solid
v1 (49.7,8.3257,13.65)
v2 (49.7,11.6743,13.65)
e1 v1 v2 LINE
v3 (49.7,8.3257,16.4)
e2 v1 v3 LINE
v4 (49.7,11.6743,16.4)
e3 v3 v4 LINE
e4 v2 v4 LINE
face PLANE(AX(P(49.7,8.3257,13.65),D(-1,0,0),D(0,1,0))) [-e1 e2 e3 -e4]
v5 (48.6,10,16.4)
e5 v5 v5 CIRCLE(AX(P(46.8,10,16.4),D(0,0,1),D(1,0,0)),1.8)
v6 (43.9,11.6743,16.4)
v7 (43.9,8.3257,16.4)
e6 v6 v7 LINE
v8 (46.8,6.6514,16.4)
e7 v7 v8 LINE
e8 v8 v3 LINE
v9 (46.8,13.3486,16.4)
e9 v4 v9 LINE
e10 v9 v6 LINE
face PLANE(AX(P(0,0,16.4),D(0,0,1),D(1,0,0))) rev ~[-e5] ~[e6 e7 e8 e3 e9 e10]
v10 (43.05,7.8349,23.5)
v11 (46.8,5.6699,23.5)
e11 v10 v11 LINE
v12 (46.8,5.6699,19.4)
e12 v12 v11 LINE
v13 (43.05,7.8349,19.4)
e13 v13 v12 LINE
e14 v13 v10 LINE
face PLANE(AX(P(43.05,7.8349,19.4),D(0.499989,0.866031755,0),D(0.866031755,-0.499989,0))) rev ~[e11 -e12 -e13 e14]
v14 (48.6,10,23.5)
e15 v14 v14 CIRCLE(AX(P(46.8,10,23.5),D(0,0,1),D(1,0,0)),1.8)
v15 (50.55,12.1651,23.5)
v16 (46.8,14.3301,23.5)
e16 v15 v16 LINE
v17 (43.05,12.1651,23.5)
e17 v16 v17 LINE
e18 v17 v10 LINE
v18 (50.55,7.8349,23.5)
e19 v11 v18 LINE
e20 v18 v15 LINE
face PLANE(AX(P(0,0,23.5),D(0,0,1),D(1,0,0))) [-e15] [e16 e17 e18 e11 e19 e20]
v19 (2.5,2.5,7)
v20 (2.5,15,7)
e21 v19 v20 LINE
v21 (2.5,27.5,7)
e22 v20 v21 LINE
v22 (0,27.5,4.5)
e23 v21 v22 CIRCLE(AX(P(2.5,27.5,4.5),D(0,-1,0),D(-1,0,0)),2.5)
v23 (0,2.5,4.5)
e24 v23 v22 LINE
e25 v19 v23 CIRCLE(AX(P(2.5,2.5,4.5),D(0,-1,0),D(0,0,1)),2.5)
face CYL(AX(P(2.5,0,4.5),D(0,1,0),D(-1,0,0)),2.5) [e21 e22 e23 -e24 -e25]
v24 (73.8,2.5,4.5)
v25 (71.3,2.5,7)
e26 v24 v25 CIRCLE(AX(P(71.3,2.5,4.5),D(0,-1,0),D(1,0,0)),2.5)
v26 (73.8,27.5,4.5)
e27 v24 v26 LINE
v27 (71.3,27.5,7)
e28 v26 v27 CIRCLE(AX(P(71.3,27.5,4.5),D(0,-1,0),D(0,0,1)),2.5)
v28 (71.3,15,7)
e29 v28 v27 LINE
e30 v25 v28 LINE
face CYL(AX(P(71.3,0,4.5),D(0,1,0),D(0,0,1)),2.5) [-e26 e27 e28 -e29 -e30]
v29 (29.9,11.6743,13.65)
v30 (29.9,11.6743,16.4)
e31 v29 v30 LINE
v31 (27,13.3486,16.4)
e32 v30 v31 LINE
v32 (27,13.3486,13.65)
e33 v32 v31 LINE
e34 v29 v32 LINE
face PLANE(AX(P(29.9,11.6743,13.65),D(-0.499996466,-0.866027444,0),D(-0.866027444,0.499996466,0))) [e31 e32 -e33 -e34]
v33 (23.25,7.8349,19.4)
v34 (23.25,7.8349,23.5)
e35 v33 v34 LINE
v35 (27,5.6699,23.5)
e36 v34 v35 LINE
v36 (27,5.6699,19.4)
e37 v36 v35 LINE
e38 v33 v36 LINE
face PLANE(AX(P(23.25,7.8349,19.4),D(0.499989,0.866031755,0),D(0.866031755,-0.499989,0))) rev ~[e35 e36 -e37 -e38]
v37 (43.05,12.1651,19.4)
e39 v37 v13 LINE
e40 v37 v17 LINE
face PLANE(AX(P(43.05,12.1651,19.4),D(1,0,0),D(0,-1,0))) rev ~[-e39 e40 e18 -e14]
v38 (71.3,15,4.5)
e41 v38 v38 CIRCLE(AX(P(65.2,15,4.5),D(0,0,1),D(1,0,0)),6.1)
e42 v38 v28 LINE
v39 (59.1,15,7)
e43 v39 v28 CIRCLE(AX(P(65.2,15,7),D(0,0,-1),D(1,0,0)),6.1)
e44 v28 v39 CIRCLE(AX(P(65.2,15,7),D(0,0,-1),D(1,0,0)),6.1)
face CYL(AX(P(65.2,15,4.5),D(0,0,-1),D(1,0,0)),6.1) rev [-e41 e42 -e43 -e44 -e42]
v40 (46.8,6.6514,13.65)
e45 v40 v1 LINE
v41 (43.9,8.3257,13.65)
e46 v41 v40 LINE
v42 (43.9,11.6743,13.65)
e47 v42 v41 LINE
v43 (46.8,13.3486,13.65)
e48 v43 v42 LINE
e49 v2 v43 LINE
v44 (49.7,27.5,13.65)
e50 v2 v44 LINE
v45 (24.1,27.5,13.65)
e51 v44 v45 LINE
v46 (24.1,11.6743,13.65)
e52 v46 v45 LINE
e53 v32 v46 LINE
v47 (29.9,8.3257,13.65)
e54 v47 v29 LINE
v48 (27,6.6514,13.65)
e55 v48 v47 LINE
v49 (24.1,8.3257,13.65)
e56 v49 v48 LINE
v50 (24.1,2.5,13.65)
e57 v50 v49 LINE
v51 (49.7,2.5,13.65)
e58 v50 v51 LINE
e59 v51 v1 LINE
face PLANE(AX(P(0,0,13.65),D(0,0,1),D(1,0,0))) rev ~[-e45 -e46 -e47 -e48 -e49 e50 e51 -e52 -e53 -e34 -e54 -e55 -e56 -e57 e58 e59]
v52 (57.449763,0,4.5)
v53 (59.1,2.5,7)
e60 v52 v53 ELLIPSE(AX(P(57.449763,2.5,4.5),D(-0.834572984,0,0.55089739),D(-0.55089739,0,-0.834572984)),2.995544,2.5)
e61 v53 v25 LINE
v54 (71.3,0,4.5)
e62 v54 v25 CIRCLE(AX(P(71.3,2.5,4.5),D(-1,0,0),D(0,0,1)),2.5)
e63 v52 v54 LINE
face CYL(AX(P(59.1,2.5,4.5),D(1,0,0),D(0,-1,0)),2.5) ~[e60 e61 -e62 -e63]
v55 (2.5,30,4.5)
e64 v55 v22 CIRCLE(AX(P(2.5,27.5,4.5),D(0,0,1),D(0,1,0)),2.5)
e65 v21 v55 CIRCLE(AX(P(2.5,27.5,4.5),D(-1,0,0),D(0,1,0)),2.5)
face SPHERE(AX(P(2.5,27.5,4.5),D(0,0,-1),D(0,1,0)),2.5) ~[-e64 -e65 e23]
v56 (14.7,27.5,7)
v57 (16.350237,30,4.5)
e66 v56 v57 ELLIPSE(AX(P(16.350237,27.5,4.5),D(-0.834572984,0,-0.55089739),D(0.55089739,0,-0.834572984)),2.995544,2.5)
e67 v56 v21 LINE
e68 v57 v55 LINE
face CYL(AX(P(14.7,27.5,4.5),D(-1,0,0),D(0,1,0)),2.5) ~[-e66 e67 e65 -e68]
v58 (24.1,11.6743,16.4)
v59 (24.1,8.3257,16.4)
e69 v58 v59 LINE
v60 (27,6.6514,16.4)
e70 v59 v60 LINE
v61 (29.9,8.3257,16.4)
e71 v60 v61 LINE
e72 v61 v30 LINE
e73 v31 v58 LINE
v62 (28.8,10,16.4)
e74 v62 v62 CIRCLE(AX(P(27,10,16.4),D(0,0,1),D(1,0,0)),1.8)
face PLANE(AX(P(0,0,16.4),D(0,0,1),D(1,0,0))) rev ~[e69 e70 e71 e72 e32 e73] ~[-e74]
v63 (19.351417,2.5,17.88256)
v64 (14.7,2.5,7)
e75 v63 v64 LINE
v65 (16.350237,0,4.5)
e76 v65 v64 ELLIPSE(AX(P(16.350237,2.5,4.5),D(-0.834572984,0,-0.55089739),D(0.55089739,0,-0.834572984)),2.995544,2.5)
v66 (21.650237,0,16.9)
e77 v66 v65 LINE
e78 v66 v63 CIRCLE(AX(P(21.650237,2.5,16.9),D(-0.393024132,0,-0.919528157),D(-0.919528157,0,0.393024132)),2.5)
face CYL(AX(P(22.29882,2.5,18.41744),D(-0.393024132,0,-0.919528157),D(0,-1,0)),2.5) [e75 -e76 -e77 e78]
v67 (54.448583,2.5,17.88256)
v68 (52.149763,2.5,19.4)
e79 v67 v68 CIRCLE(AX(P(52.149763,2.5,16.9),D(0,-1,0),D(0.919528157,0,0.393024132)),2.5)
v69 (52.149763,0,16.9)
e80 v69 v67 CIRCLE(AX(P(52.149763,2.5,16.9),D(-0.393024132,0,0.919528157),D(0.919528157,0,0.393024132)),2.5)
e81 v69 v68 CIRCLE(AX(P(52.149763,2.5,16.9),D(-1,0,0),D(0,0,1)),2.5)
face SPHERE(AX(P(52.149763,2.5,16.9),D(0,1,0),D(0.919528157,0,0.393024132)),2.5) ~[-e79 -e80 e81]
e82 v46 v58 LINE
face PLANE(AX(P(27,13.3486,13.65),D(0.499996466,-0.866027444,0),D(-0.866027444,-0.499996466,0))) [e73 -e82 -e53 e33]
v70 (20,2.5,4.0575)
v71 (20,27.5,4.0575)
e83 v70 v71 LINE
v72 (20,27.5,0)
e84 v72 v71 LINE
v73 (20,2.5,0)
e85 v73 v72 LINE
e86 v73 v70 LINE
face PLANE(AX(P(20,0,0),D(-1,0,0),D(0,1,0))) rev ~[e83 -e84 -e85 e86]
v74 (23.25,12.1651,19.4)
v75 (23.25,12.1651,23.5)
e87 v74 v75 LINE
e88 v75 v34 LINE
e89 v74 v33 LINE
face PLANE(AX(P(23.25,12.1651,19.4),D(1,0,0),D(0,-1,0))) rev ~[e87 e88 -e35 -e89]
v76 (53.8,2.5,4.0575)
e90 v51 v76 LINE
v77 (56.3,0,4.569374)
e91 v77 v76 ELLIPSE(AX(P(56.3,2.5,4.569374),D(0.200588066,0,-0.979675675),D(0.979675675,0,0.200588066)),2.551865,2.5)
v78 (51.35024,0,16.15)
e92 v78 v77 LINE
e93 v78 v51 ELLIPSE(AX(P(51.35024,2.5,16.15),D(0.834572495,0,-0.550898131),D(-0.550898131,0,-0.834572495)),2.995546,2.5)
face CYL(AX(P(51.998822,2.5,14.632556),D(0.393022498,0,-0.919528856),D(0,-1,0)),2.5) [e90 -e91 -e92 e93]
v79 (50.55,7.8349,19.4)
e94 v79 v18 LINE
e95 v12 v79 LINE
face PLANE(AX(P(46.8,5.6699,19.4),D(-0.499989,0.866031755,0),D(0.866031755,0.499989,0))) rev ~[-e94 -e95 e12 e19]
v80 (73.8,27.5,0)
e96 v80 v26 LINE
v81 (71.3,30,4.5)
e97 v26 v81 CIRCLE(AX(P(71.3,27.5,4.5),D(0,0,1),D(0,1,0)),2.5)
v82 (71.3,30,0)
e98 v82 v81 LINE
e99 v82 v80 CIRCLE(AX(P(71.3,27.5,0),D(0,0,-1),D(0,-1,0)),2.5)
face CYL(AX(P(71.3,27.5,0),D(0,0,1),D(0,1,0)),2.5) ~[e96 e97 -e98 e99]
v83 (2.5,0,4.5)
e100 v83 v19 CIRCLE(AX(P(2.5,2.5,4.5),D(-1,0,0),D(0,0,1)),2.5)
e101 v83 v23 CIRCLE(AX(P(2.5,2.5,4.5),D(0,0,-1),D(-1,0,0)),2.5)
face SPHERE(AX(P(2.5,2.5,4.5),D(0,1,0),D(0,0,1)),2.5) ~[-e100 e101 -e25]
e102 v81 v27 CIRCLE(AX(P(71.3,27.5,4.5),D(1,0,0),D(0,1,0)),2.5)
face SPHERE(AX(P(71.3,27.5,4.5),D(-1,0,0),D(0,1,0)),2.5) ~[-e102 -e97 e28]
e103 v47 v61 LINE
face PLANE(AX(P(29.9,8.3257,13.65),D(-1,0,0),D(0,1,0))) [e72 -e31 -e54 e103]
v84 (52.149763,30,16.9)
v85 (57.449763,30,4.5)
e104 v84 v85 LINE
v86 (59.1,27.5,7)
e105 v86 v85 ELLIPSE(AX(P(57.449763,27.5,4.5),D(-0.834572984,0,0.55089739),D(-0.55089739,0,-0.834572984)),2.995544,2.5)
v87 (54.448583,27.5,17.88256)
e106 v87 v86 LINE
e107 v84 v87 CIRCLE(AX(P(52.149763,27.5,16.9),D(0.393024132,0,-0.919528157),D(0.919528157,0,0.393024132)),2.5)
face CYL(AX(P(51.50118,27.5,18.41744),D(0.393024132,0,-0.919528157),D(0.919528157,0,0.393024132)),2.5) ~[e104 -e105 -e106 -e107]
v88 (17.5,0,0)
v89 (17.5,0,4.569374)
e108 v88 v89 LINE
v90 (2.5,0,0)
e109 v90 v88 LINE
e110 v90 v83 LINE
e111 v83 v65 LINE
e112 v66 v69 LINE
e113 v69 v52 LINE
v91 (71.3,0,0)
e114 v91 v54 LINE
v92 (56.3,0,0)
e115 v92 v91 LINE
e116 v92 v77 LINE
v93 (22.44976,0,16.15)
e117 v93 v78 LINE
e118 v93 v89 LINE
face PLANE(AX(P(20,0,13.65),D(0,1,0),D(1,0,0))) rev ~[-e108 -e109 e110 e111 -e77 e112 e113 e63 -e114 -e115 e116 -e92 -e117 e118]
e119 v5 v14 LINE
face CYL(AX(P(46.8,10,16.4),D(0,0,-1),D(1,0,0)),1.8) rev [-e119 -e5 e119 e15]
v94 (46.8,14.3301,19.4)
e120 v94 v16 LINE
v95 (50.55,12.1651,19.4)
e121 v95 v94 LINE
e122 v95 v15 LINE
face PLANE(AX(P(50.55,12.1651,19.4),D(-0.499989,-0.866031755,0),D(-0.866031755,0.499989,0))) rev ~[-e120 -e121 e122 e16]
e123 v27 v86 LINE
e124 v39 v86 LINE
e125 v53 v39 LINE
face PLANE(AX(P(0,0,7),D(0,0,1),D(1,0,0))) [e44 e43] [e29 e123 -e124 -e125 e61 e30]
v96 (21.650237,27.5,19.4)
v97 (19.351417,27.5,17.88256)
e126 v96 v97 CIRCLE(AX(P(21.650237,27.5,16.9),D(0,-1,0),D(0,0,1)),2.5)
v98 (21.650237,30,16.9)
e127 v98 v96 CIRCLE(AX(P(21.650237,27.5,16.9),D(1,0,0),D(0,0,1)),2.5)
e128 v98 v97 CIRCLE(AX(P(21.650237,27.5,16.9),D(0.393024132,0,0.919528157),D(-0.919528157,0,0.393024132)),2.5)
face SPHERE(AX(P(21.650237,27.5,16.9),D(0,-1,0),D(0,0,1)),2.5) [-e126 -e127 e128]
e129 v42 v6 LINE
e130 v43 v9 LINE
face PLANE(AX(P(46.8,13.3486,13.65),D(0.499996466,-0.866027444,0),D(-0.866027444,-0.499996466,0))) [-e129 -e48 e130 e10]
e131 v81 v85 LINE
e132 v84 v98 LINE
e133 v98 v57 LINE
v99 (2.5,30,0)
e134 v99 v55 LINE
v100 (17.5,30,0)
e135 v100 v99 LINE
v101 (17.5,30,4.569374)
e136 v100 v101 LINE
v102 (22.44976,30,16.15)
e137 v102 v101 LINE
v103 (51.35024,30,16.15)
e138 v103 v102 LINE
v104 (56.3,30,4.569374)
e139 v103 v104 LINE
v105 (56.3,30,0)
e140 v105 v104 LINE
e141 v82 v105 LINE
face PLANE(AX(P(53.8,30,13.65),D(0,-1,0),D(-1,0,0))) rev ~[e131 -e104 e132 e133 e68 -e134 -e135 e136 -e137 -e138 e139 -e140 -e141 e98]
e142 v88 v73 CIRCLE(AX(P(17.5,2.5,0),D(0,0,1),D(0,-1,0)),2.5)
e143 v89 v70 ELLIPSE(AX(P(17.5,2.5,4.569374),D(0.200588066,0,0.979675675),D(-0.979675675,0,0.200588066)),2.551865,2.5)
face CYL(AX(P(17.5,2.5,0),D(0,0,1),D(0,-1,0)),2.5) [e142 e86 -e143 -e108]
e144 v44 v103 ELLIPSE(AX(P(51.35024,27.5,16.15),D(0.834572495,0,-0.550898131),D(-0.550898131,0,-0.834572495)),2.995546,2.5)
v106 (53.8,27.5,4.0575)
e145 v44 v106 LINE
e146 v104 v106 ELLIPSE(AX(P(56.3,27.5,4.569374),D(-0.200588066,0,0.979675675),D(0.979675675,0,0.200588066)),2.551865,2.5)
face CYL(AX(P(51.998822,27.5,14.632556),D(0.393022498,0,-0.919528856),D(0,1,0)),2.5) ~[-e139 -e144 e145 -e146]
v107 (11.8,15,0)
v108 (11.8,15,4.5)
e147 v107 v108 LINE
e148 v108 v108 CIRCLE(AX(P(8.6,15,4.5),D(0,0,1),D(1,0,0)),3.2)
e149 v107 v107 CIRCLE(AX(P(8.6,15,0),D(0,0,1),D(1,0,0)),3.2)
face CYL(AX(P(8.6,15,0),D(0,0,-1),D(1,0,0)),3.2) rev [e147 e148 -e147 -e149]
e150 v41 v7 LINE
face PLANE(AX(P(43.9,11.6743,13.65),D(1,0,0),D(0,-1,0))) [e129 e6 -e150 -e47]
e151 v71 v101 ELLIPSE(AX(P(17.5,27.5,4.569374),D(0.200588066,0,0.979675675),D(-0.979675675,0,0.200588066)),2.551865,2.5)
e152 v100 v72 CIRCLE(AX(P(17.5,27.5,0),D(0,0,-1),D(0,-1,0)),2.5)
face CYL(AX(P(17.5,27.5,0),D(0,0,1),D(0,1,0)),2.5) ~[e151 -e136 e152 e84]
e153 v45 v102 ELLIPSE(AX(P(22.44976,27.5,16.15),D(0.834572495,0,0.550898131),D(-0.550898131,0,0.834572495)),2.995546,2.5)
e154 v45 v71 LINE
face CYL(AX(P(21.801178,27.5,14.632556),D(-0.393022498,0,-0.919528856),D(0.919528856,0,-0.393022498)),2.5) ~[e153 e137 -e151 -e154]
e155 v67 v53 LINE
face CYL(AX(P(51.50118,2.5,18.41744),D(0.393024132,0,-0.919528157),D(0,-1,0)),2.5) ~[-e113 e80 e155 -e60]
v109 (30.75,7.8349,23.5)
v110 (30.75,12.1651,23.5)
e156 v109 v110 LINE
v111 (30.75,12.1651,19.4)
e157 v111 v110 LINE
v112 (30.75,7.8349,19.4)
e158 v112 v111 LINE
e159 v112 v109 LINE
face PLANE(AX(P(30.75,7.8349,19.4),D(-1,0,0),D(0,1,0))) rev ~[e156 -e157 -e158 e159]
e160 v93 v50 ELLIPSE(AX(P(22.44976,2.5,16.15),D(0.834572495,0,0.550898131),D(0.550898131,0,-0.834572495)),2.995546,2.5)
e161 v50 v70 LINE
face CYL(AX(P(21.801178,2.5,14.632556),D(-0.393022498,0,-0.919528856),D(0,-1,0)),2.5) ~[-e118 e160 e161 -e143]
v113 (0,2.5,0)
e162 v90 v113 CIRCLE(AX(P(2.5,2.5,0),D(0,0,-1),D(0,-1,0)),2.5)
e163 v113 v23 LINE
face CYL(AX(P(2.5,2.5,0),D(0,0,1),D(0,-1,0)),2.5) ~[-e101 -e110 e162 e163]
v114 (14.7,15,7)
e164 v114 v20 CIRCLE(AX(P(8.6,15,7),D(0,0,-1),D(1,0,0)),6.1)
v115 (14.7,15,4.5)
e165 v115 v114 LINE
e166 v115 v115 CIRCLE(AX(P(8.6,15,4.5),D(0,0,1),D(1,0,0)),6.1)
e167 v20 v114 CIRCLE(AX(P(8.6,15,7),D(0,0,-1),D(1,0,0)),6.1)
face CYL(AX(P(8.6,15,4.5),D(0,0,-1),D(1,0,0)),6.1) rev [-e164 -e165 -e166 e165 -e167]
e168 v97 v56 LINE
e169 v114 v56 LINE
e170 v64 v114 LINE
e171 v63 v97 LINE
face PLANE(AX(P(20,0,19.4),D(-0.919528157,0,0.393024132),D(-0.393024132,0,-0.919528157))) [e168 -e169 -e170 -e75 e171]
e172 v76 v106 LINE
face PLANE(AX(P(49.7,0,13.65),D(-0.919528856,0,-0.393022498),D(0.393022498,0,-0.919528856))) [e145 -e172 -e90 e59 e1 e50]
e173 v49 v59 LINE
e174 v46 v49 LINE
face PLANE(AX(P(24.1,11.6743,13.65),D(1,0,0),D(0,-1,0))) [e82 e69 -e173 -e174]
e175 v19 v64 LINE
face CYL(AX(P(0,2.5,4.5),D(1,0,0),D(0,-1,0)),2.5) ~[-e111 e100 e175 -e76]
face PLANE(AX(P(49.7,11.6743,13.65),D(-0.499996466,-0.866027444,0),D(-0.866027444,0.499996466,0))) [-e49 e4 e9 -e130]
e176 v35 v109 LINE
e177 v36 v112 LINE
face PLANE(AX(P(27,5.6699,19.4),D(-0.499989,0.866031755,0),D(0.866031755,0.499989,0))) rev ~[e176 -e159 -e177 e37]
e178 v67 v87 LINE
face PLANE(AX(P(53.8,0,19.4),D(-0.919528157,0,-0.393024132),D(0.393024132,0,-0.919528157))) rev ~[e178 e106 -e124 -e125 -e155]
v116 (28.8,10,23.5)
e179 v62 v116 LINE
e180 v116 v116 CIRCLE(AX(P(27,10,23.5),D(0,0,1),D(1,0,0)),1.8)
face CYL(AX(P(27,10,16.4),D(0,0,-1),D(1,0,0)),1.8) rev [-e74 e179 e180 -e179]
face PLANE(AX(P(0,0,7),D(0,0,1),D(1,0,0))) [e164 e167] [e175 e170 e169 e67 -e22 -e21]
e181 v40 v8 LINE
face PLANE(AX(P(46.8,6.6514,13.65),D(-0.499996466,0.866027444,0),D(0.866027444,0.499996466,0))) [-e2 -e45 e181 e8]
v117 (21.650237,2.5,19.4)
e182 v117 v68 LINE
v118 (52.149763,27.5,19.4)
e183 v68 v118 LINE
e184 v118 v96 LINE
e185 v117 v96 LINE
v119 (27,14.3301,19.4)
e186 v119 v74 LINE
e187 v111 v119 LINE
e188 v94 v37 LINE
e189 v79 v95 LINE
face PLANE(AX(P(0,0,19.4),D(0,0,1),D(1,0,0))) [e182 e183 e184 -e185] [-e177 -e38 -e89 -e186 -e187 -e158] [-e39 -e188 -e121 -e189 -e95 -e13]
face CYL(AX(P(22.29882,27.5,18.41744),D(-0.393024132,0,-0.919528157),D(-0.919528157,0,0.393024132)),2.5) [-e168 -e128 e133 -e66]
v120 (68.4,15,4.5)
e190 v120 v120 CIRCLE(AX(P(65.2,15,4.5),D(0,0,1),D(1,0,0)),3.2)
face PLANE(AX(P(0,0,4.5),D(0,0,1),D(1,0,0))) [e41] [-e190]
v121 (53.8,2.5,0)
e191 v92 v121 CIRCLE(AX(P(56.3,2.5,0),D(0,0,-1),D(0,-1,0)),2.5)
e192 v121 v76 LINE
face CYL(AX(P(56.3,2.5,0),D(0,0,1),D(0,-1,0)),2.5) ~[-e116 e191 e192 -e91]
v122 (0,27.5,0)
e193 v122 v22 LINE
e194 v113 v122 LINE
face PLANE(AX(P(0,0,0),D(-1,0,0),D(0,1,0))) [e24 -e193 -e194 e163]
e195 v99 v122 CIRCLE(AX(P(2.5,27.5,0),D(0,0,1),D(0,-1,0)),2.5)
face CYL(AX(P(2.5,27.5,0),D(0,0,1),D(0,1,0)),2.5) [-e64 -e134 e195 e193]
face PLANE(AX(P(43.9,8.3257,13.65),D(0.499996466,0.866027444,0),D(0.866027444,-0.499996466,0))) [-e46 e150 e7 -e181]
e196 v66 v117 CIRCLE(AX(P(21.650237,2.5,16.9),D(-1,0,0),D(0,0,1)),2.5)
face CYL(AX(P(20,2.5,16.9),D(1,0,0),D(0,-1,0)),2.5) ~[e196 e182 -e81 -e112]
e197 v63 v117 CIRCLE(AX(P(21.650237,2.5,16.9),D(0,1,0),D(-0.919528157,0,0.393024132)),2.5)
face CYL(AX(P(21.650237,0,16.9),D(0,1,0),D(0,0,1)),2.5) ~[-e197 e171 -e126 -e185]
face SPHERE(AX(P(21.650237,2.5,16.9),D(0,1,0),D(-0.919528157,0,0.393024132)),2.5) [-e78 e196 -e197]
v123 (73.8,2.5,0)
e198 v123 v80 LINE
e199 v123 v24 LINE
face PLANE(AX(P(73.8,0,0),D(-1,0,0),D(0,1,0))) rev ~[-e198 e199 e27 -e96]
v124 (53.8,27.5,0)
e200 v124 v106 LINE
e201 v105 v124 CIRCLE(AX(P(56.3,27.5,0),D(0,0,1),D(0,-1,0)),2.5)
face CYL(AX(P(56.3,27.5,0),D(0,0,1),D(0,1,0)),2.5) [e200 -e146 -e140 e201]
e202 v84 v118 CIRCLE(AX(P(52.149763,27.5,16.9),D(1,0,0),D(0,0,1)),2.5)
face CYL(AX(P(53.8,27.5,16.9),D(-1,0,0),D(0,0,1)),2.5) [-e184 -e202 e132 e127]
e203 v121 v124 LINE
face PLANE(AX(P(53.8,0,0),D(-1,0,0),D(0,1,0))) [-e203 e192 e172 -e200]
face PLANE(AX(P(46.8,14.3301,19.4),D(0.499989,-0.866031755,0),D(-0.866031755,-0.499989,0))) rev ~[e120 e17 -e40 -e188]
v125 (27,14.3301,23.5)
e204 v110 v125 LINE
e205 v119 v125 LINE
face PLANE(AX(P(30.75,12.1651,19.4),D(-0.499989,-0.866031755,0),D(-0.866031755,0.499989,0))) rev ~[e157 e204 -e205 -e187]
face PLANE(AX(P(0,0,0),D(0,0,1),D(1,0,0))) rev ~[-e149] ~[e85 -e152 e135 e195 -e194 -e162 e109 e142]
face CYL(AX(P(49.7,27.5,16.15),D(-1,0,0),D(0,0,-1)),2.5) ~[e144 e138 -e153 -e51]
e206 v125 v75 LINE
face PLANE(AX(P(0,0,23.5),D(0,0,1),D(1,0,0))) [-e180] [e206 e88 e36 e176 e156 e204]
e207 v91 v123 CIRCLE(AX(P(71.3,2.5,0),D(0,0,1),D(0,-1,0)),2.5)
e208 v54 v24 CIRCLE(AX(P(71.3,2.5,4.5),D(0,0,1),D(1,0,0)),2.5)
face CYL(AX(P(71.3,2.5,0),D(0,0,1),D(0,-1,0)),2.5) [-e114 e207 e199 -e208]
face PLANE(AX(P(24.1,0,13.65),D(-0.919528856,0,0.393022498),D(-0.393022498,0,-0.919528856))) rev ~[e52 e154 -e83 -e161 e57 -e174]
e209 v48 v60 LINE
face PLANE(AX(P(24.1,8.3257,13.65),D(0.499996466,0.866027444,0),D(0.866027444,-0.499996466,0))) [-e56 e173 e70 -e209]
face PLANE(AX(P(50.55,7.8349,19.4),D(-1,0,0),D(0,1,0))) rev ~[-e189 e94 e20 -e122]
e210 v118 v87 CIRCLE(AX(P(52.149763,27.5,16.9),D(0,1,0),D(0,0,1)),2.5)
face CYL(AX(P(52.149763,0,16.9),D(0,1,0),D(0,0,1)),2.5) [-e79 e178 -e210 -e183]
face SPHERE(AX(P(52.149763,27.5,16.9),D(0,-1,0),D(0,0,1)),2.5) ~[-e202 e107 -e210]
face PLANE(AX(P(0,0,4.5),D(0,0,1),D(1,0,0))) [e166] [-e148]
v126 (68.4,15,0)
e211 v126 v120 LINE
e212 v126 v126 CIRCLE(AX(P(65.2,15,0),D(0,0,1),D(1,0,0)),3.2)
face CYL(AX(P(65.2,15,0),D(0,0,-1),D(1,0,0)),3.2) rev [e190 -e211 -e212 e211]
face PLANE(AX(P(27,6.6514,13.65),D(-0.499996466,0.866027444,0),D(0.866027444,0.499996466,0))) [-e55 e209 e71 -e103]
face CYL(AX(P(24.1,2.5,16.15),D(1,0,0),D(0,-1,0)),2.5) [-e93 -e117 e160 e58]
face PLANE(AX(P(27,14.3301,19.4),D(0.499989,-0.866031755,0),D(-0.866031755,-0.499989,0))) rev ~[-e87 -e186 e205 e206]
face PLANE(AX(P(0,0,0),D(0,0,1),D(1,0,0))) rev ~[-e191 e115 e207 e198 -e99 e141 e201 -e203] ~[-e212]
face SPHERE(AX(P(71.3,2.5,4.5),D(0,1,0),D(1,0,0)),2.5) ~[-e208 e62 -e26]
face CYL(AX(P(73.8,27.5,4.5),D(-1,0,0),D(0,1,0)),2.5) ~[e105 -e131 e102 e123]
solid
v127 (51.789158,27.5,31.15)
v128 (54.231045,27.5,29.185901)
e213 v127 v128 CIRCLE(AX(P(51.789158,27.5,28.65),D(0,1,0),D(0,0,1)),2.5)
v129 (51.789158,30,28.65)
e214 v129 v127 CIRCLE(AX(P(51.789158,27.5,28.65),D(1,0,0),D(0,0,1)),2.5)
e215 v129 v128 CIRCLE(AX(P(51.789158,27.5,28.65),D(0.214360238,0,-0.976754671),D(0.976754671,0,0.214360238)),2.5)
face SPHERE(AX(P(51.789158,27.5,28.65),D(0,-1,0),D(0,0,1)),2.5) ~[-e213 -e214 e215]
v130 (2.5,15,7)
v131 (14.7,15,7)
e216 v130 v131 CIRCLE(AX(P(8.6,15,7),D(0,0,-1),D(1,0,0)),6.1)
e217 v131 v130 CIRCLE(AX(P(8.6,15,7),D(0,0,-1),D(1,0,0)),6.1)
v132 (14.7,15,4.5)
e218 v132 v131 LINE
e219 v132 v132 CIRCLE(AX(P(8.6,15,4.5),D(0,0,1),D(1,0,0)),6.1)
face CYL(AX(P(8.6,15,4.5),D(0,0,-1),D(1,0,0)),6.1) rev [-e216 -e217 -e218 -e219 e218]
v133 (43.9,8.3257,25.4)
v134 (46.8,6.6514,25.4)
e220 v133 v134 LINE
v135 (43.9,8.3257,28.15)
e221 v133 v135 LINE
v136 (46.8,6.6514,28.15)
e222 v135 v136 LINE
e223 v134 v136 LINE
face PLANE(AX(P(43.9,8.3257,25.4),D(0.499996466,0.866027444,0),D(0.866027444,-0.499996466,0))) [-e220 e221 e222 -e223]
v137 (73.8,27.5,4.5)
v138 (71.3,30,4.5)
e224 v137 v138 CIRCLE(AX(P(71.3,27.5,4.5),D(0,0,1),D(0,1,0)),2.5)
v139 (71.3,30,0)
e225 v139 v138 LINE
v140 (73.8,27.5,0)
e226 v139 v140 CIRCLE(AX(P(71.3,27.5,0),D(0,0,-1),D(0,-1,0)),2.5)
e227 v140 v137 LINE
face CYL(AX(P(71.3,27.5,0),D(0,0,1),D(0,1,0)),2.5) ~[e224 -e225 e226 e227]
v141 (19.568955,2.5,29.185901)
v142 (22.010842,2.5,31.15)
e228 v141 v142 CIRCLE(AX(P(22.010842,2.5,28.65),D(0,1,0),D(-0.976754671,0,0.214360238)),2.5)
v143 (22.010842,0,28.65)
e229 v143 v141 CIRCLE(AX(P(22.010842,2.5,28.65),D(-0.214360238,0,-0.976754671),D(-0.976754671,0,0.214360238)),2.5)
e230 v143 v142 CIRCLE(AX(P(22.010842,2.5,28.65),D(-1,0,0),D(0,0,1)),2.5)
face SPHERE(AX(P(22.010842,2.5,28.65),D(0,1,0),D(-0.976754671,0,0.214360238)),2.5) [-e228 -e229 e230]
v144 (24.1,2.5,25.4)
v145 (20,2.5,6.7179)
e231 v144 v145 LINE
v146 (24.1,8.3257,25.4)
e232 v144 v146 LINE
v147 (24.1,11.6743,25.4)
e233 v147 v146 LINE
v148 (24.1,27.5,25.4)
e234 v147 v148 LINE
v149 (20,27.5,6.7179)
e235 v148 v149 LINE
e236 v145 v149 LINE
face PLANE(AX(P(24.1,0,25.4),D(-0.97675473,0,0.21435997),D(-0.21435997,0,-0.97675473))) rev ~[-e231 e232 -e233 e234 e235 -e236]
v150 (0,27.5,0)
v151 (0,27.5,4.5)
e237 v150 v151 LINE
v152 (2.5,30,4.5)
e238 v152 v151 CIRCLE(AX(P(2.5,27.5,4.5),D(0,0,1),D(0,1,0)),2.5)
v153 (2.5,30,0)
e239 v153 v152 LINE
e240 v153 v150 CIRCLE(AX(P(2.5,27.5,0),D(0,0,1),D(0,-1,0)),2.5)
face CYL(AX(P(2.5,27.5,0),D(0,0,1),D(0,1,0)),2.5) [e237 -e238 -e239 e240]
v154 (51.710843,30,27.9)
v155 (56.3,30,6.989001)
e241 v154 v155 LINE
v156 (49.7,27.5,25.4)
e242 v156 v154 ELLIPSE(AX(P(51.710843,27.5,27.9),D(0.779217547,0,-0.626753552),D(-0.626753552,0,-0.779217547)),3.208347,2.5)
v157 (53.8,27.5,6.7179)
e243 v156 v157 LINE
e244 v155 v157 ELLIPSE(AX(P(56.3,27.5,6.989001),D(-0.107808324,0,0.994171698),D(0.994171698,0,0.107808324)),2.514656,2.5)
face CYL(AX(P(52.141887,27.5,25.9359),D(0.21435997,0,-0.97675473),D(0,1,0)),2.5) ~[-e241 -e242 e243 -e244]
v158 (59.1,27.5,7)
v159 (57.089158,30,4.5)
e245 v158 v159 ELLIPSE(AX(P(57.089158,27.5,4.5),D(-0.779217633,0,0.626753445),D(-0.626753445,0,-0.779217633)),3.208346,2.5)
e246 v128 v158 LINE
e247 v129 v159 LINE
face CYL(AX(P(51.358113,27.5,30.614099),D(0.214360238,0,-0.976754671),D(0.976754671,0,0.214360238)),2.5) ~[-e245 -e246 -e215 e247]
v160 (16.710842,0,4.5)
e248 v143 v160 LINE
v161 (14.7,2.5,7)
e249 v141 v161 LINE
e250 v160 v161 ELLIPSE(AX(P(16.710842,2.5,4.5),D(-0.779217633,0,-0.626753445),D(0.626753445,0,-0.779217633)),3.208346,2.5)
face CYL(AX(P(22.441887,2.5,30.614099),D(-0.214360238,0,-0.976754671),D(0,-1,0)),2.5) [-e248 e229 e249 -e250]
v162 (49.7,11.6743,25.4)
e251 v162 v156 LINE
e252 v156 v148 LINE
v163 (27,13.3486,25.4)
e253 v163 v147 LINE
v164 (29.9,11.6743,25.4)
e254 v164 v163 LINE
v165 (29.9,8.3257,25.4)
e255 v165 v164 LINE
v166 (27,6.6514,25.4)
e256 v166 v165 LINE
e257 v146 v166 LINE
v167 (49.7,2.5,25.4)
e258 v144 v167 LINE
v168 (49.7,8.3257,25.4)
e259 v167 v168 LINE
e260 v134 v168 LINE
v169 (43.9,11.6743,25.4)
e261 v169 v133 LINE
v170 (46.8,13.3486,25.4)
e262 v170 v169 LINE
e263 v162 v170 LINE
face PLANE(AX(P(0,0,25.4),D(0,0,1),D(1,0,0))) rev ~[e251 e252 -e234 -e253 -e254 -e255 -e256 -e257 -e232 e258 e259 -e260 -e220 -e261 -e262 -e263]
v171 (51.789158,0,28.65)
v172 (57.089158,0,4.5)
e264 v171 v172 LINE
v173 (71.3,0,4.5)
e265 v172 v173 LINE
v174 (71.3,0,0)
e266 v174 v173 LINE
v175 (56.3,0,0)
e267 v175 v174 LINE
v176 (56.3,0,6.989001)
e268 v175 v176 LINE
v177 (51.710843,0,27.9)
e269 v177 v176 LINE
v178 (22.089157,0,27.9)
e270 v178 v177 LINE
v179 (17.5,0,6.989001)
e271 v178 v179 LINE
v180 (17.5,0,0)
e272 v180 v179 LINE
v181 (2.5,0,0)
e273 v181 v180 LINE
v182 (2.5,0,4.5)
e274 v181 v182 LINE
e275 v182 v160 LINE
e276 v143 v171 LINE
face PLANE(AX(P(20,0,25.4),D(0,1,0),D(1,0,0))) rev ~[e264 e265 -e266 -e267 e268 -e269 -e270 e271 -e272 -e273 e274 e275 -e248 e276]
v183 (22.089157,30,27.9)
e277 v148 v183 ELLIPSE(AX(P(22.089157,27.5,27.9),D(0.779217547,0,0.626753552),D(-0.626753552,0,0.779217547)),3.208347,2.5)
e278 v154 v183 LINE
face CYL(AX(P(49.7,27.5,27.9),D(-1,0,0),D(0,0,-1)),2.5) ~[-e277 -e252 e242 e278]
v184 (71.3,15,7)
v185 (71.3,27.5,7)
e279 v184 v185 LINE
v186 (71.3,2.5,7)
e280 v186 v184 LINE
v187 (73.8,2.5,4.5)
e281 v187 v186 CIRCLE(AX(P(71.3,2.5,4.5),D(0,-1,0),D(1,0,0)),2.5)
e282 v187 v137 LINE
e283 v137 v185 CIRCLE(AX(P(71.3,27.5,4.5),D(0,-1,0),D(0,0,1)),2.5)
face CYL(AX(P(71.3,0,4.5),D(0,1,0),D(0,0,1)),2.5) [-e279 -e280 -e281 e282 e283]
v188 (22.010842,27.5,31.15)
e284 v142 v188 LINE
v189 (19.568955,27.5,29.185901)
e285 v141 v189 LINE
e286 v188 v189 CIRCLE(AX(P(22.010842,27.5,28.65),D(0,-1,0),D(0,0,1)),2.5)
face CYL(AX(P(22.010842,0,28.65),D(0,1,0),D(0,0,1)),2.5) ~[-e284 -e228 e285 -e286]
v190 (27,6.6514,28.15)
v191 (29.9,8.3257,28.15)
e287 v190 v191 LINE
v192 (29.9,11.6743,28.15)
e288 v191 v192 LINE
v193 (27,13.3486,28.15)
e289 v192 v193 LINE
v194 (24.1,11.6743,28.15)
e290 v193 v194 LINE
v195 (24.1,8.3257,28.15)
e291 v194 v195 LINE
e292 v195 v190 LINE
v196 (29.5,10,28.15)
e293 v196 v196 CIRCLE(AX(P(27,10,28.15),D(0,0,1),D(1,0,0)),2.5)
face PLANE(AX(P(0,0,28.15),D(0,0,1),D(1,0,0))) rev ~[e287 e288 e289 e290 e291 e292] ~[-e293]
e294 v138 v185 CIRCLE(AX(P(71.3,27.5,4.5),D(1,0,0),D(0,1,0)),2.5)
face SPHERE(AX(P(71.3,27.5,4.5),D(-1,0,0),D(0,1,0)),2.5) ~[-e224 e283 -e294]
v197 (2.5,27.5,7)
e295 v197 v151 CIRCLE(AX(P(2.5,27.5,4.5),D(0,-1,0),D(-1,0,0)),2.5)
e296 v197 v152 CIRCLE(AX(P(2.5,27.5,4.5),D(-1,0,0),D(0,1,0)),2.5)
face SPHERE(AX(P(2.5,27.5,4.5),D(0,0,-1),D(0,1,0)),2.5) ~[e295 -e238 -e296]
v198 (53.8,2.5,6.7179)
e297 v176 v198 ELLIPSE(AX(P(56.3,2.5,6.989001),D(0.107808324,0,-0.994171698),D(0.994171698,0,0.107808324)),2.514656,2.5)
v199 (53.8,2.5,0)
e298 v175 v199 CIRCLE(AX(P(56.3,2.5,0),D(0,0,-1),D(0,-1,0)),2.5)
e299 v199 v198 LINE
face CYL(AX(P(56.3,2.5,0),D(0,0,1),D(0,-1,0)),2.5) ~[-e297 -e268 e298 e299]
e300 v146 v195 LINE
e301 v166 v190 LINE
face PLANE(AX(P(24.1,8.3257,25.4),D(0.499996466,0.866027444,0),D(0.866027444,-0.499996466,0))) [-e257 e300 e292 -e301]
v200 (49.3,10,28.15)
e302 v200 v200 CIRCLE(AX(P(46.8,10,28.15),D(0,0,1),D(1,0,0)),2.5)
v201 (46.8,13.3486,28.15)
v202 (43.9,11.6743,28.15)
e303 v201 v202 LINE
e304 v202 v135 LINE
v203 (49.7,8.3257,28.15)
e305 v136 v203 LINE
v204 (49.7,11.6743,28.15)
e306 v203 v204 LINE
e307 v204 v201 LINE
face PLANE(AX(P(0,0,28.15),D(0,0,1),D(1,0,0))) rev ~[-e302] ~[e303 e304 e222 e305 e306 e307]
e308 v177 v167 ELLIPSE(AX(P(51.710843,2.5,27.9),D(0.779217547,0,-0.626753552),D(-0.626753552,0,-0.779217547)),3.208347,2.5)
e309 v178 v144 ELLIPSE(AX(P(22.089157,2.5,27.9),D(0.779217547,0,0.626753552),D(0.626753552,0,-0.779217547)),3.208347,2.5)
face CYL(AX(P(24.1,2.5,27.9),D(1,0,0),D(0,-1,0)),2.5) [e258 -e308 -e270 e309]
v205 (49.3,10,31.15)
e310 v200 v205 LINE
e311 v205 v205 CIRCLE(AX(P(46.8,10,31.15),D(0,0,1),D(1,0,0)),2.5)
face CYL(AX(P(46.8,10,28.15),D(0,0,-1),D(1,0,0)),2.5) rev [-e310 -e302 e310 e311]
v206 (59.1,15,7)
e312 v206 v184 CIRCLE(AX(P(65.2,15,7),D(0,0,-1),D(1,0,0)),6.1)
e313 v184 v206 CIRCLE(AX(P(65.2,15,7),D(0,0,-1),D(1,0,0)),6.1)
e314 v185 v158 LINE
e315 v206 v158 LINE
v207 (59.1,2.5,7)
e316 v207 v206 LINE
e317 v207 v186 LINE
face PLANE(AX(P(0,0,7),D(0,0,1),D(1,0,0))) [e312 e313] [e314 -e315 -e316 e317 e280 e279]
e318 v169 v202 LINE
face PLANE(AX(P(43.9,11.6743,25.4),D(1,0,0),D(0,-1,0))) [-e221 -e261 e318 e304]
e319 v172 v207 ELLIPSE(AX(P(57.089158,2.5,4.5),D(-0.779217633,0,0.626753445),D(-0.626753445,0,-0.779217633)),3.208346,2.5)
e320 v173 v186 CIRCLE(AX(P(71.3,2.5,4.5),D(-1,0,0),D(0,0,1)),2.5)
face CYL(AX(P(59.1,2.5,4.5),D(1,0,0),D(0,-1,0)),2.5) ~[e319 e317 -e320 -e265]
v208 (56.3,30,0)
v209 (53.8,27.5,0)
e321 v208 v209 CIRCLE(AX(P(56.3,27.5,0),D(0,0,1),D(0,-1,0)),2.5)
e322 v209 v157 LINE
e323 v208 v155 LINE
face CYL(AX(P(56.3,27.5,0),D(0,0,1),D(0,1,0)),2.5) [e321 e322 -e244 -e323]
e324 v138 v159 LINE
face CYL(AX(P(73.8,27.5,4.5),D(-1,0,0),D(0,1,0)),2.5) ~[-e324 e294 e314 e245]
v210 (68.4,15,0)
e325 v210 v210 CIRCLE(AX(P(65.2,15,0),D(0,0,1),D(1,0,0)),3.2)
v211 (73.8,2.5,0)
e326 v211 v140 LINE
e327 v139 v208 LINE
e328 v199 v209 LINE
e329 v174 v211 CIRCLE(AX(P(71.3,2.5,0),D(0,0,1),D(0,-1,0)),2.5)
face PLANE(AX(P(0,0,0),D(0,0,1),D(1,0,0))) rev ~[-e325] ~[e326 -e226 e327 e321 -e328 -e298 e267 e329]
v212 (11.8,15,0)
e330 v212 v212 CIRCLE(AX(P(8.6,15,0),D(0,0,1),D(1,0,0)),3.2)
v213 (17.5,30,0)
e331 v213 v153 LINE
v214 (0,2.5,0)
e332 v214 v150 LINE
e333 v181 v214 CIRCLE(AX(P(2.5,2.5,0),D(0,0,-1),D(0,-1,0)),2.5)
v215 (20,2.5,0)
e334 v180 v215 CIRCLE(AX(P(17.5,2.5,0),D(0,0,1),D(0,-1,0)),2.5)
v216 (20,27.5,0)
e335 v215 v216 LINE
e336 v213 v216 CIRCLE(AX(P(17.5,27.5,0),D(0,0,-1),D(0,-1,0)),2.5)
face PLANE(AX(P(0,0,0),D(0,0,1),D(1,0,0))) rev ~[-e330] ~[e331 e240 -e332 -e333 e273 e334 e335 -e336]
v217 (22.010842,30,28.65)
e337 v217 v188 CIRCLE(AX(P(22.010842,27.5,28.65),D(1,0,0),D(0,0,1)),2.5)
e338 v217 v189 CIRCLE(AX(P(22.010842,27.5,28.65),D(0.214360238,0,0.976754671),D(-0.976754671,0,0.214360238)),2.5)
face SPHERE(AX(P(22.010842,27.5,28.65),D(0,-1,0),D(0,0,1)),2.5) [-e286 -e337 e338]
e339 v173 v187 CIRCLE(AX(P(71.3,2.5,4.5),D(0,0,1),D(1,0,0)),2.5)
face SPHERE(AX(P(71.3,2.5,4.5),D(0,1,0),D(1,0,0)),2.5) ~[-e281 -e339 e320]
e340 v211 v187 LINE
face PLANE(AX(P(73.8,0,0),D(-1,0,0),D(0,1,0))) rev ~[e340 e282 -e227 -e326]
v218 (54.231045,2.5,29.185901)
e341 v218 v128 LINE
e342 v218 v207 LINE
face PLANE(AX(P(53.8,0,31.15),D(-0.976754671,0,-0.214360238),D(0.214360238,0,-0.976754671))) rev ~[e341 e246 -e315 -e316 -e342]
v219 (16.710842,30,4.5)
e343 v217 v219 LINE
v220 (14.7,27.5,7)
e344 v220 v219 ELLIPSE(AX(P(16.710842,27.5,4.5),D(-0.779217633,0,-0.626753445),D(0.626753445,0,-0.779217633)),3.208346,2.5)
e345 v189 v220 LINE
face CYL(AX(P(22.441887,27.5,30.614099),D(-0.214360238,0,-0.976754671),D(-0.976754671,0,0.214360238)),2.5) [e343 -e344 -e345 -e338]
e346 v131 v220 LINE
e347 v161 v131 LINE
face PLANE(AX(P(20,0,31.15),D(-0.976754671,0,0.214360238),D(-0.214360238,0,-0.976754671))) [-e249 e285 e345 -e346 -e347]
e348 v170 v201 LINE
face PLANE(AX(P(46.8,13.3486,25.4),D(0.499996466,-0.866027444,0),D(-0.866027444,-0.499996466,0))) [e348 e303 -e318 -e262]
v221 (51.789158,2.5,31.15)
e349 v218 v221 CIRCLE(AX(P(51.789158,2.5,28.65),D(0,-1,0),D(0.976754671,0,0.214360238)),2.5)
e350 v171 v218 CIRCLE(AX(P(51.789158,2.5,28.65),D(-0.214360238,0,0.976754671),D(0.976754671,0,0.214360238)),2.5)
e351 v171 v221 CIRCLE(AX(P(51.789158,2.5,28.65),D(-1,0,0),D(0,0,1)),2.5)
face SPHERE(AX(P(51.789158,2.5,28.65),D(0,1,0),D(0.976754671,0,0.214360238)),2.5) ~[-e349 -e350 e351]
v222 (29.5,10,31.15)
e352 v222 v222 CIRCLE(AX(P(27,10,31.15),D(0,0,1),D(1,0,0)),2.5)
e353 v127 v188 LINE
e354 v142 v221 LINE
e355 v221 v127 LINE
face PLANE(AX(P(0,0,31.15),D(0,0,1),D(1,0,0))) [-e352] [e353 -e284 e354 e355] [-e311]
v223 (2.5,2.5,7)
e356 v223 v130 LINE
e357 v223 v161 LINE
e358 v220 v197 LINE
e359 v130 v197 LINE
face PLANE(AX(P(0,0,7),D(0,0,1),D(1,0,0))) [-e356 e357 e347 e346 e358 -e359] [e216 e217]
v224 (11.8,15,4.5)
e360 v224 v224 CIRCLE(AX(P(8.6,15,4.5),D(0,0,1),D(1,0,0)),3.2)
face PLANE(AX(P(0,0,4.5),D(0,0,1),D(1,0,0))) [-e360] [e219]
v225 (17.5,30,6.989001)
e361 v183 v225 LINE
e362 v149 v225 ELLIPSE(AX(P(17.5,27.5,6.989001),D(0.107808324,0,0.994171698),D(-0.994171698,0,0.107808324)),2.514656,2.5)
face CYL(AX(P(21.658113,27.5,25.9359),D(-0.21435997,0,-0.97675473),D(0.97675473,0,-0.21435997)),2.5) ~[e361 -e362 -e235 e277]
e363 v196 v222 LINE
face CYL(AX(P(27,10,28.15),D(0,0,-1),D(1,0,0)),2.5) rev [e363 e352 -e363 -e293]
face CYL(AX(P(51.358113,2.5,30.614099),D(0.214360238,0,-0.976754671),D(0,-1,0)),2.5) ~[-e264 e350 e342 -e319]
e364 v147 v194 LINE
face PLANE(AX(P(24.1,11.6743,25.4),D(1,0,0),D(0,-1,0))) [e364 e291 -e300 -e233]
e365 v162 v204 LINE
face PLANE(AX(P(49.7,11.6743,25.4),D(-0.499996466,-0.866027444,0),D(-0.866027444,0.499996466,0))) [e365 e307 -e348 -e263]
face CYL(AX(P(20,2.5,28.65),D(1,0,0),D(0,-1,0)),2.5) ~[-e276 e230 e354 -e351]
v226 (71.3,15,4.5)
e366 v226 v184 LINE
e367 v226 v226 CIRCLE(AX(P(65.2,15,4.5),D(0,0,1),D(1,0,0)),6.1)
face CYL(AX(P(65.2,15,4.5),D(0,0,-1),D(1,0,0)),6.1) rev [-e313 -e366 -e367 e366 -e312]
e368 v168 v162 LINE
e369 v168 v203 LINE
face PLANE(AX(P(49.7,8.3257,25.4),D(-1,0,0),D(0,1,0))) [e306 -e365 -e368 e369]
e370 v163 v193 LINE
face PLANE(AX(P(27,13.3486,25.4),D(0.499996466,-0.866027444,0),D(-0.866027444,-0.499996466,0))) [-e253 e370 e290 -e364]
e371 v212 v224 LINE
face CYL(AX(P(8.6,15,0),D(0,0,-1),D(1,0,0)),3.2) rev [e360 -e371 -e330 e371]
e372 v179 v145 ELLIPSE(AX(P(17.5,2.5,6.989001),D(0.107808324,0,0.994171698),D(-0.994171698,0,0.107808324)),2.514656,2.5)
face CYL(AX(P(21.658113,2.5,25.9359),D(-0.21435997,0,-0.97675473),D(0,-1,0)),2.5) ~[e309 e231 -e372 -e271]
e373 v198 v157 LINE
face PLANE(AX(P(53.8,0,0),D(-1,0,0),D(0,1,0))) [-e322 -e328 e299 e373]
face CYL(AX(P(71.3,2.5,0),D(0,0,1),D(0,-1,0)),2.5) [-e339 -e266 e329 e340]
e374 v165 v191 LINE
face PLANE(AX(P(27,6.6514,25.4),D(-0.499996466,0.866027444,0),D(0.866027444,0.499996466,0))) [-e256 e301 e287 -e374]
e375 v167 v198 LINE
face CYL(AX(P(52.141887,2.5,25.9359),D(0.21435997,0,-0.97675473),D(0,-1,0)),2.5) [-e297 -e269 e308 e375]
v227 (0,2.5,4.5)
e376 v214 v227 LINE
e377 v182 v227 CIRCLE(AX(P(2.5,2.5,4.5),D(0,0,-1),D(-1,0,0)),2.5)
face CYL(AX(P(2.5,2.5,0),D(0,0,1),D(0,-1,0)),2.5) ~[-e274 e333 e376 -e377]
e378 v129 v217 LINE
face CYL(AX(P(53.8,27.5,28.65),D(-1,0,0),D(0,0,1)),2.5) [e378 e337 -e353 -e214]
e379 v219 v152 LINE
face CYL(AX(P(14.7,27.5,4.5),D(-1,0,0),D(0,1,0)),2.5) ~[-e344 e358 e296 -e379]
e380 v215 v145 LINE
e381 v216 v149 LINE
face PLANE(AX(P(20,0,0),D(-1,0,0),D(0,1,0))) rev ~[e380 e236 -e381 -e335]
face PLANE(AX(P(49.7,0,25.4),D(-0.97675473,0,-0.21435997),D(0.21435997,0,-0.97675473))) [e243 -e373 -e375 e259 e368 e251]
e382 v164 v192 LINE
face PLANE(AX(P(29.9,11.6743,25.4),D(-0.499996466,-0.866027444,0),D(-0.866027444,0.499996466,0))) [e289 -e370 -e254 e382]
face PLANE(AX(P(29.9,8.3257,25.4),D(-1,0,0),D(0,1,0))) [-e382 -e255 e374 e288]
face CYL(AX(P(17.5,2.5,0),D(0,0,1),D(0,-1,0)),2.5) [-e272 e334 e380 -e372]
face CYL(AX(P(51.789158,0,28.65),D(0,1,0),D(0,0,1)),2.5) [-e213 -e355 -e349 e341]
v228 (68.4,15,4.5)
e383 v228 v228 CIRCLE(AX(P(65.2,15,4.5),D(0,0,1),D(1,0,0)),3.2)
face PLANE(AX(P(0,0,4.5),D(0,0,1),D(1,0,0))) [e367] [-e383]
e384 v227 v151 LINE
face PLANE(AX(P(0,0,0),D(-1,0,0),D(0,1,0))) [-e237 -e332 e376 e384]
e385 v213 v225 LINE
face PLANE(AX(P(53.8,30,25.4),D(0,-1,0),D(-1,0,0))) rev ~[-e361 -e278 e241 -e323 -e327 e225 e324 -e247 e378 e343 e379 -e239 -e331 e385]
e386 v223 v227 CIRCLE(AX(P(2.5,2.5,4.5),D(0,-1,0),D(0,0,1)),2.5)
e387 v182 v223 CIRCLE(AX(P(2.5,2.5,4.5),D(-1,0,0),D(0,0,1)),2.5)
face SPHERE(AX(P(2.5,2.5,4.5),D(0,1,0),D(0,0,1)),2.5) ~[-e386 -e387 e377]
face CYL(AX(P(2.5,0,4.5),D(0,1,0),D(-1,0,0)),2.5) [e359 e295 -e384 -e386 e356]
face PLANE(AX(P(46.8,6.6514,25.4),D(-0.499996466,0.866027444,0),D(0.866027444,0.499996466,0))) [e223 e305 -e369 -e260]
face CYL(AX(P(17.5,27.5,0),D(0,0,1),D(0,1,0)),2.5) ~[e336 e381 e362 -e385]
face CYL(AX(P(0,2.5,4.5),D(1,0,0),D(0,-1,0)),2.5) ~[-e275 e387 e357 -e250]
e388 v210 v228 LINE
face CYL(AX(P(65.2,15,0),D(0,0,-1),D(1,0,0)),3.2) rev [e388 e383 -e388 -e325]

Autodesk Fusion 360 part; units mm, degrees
sketch "Sketch1" plane through (0, 0, 0) normal (0, 0, 1) x (1, 0, 0) in component "Leadscrew Nut Mount V1"
  line L0 (0, 0) -> (0, 30)
  line L1 (0, 0) -> (73.8, 0)
  line L2 (73.8, 0) -> (73.8, 30)
  line L3 (73.8, 30) -> (0, 30)
  line L4 (36.9, 0) -> (36.9, 10) construction
  line L5 (36.9, 10) -> (27, 10) construction
  line L6 (36.9, 10) -> (46.8, 10) construction
  circle A0 centre (27, 10) radius 2.5
  circle A1 centre (46.8, 10) radius 2.5
  line L7 (29.9, 11.6743) -> (27, 13.3486)
  line L8 (27, 13.3486) -> (24.1, 11.6743)
  line L9 (24.1, 11.6743) -> (24.1, 8.3257)
  line L10 (24.1, 8.3257) -> (27, 6.6514)
  line L11 (27, 6.6514) -> (29.9, 8.3257)
  line L12 (29.9, 8.3257) -> (29.9, 11.6743)
  line L13 (43.9, 8.3257) -> (46.8, 6.6514)
  line L14 (46.8, 6.6514) -> (49.7, 8.3257)
  line L15 (49.7, 8.3257) -> (49.7, 11.6743)
  line L16 (49.7, 11.6743) -> (46.8, 13.3486)
  line L17 (46.8, 13.3486) -> (43.9, 11.6743)
  line L18 (43.9, 11.6743) -> (43.9, 8.3257)
  line L19 (0, 0) -> (20, 0)
  line L20 (20, 0) -> (20, 30)
  circle A2 centre (8.6, 15) radius 3.2
  circle A3 centre (8.6, 15) radius 6.1
  circle A4 centre (65.2, 15) radius 6.1
  circle A5 centre (65.2, 15) radius 3.2
  line L21 (53.8, 0) -> (53.8, 30)
  line L22 (0, 15) -> (8.6, 15) construction
  dimension "d1" = 10
  dimension "d2" = 5
  dimension "d3" = 5
  dimension "d4" = 9.9
  dimension "d5" = 2.9
  dimension "d6" = 2.9
  dimension "d21" = 73.8
  dimension "d22" = 6.4
  dimension "d23" = 12.2
  dimension "d24" = 30
  dimension "d25" = 33.8
  dimension "d26" = 8.6
extrude "Extrude1" add sketch "Sketch1" along normal blind 7 contours L0 L1 L3 L19 L20 | L1 L2 L3 L21 | A3 | A4 makes body 1 at (64.187, 3.9363, 0) makes body 2 at (9.613, 3.9363, 0) in component "Leadscrew Nut Mount V1"
extrude "Extrude2" cut sketch "Sketch1" along normal through all from surface at 4.5 contours A3 | A4 bodies 1 2 in component "Leadscrew Nut Mount V1"
extrude "Extrude3" add sketch "Sketch1" along normal blind 2.75 from surface at 25.4 separate body contours L1 L3 L20 L21 makes body 3 in component "Leadscrew Nut Mount V1"
extrude "Extrude4" add sketch "Sketch1" along normal blind 3 from surface at 28.15 contours L1 L3 L20 L21 | L7 L8 L9 L10 L11 L12 | L13 L14 L15 L16 L17 L18 bodies 3 in component "Leadscrew Nut Mount V1"
sketch "Sketch2" plane through (0, 0, 0) normal (0, -1, 0) x (1, 0, 0) in component "Leadscrew Nut Mount V1"
  line L0 (20, 25.4) -> (53.8, 25.4)
  line L1 (53.8, 25.4) -> (53.8, 31.15)
  line L2 (53.8, 31.15) -> (20, 31.15)
  line L3 (20, 31.15) -> (20, 25.4)
  line L4 (59.1, 7) -> (71.3, 7)
  line L5 (53.8, 25.4) -> (53.8, 31.15)
  line L6 (53.8, 31.15) -> (59.1, 7)
  line L7 (53.8, 25.4) -> (48.2257, 25.4)
  line L8 (53.8, 0) -> (53.8, 7)
  line L9 (49.7, 25.4) -> (53.8, 6.7179)
  line L10 (59.1, 7) -> (53.8, 7)
  line L11 (53.8, 25.4) -> (20, 25.4)
  line L12 (20, 31.15) -> (53.8, 31.15)
  line L13 (36.9, 31.15) -> (36.9, 25.4)
  line L14 (24.1, 25.4) -> (20, 6.7179)
  line L15 (20, 31.15) -> (14.7, 7)
  line L16 (20, 25.4) -> (24.1, 25.4)
  line L17 (20, 25.4) -> (20, 31.15)
  line L18 (14.7, 7) -> (20, 7)
  line L19 (20, 0) -> (20, 7)
extrude "Extrude5" add sketch "Sketch2" against normal up to surface (30 mm away) contours L0 L3 L11 L14 L15 L16 L17 L18 L19 | L0 L1 L5 L6 L7 L8 L9 L10 L11 bodies 3 1 2 in component "Leadscrew Nut Mount V1"
fillet "Fillet1" radius 2.5 28 edges at (36.9, 30, 31.15) (17.35, 30, 19.075) (36.9, 30, 25.4) (22.05, 30, 16.059) (51.75, 30, 16.059) (56.45, 30, 19.075) (56.45, 0, 19.075) (51.75, 0, 16.059) (22.05, 0, 16.059) (17.35, 0, 19.075) (36.9, 0, 31.15) (53.8, 15, 31.15) (20, 15, 31.15) (20, 30, 3.359) (0, 30, 3.5) (7.35, 30, 7) (0, 15, 7) (7.35, 0, 7) (53.8, 30, 3.359) (66.45, 30, 7) (73.8, 30, 3.5) (73.8, 15, 7) (73.8, 0, 3.5) (66.45, 0, 7) (53.8, 0, 3.359) (36.9, 0, 25.4) (20, 0, 3.359) (0, 0, 3.5) on bodies 3 in component "Leadscrew Nut Mount V1"
sketch "Sketch1 (2)" plane through (0, 0, 0) normal (0, 0, 1) x (1, 0, 0) in component "Leadscrew Nut Mount V1.1"
  line L0 (0, 0) -> (0, 30)
  line L1 (0, 0) -> (73.8, 0)
  line L2 (73.8, 0) -> (73.8, 30)
  line L3 (73.8, 30) -> (0, 30)
  line L4 (36.9, 0) -> (36.9, 10) construction
  line L5 (36.9, 10) -> (27, 10) construction
  line L6 (36.9, 10) -> (46.8, 10) construction
  circle A0 centre (27, 10) radius 1.8
  circle A1 centre (46.8, 10) radius 1.8
  line L7 (29.9, 11.6743) -> (27, 13.3486)
  line L8 (27, 13.3486) -> (24.1, 11.6743)
  line L9 (24.1, 11.6743) -> (24.1, 8.3257)
  line L10 (24.1, 8.3257) -> (27, 6.6514)
  line L11 (27, 6.6514) -> (29.9, 8.3257)
  line L12 (29.9, 8.3257) -> (29.9, 11.6743)
  line L13 (43.9, 8.3257) -> (46.8, 6.6514)
  line L14 (46.8, 6.6514) -> (49.7, 8.3257)
  line L15 (49.7, 8.3257) -> (49.7, 11.6743)
  line L16 (49.7, 11.6743) -> (46.8, 13.3486)
  line L17 (46.8, 13.3486) -> (43.9, 11.6743)
  line L18 (43.9, 11.6743) -> (43.9, 8.3257)
  line L19 (0, 0) -> (20, 0)
  line L20 (20, 0) -> (20, 30)
  circle A2 centre (8.6, 15) radius 3.2
  circle A3 centre (8.6, 15) radius 6.1
  circle A4 centre (65.2, 15) radius 6.1
  circle A5 centre (65.2, 15) radius 3.2
  line L21 (53.8, 0) -> (53.8, 30)
  line L22 (0, 15) -> (8.6, 15) construction
  dimension "d1_1" = 10
  dimension "d2_1" = 3.6
  dimension "d3_1" = 3.6
  dimension "d4_1" = 9.9
  dimension "d5_1" = 2.9
  dimension "d6_1" = 2.9
  dimension "d21_1" = 73.8
  dimension "d22_1" = 6.4
  dimension "d23_1" = 12.2
  dimension "d24_1" = 30
  dimension "d25_1" = 33.8
  dimension "d26_1" = 8.6
extrude "Extrude1'" add sketch "Sketch1 (2)" along normal blind 7 separate body contours L0 L1 L3 L19 L20 | L1 L2 L3 L21 | A3 | A4 makes body 4 at (64.187, 3.9363, 0) makes body 5 at (9.613, 3.9363, 0) in component "Leadscrew Nut Mount V1.1"
extrude "Extrude2'" cut sketch "Sketch1 (2)" along normal through all from surface at 4.5 contours A3 | A4 bodies 4 5 in component "Leadscrew Nut Mount V1.1"
extrude "Extrude3'" add sketch "Sketch1 (2)" along normal blind 2.75 from surface at 13.65 separate body contours L1 L3 L20 L21 makes body 6 in component "Leadscrew Nut Mount V1.1"
extrude "Extrude4'" add sketch "Sketch1 (2)" along normal blind 3 from surface at 16.4 contours L1 L3 L20 L21 | L7 L8 L9 L10 L11 L12 | L13 L14 L15 L16 L17 L18 bodies 6 in component "Leadscrew Nut Mount V1.1"
sketch "Sketch2 (2)" plane through (0, 0, 0) normal (0, -1, 0) x (1, 0, 0) in component "Leadscrew Nut Mount V1.1"
  line L0 (20, 13.65) -> (53.8, 13.65)
  line L1 (53.8, 13.65) -> (53.8, 19.4)
  line L2 (53.8, 19.4) -> (20, 19.4)
  line L3 (20, 19.4) -> (20, 13.65)
  line L4 (59.1, 7) -> (71.3, 7)
  line L5 (53.8, 13.65) -> (53.8, 19.4)
  line L6 (53.8, 19.4) -> (59.1, 7)
  line L7 (53.8, 13.65) -> (48.2257, 13.65)
  line L8 (53.8, 0) -> (53.8, 7)
  line L9 (49.7, 13.65) -> (53.8, 4.0575)
  line L10 (59.1, 7) -> (53.8, 7)
  line L11 (53.8, 13.65) -> (20, 13.65)
  line L12 (20, 19.4) -> (53.8, 19.4)
  line L13 (36.9, 19.4) -> (36.9, 13.65)
  line L14 (24.1, 13.65) -> (20, 4.0575)
  line L15 (20, 19.4) -> (14.7, 7)
  line L16 (20, 13.65) -> (24.1, 13.65)
  line L17 (20, 13.65) -> (20, 19.4)
  line L18 (14.7, 7) -> (20, 7)
  line L19 (20, 0) -> (20, 7)
extrude "Extrude5'" add sketch "Sketch2 (2)" against normal up to surface (30 mm away) contours L0 L3 L11 L14 L15 L16 L17 L18 L19 | L0 L1 L5 L6 L7 L8 L9 L10 L11 bodies 6 4 5 in component "Leadscrew Nut Mount V1.1"
fillet "Fillet1'" radius 2.5 28 edges at (36.9, 30, 19.4) (17.35, 30, 13.2) (36.9, 30, 13.65) (22.05, 30, 8.8538) (51.75, 30, 8.8538) (56.45, 30, 13.2) (56.45, 0, 13.2) (51.75, 0, 8.8538) (22.05, 0, 8.8538) (17.35, 0, 13.2) (36.9, 0, 19.4) (53.8, 15, 19.4) (20, 15, 19.4) (20, 30, 2.0288) (0, 30, 3.5) (7.35, 30, 7) (0, 15, 7) (7.35, 0, 7) (53.8, 30, 2.0288) (66.45, 30, 7) (73.8, 30, 3.5) (73.8, 15, 7) (73.8, 0, 3.5) (66.45, 0, 7) (53.8, 0, 2.0288) (36.9, 0, 13.65) (20, 0, 2.0288) (0, 0, 3.5) on bodies 6 in component "Leadscrew Nut Mount V1.1"
sketch "Sketch1 (1)" plane through (0, 0, 19.4) normal (0, 0, 1) x (1, 0, 0) in component "Leadscrew Nut Mount V1.1"
  circle A0 centre (46.8, 10) radius 1.8
  circle A1 centre (27, 10) radius 1.8
  line L0 (52.1498, 27.5) -> (21.6502, 27.5)
  line L1 (21.6502, 27.5) -> (21.6502, 2.5)
  line L2 (21.6502, 2.5) -> (52.1498, 2.5)
  line L3 (52.1498, 2.5) -> (52.1498, 27.5)
  line L4 (30.75, 12.1651) -> (27, 14.3301)
  line L5 (27, 14.3301) -> (23.25, 12.1651)
  line L6 (23.25, 12.1651) -> (23.25, 7.8349)
  line L7 (23.25, 7.8349) -> (27, 5.6699)
  line L8 (27, 5.6699) -> (30.75, 7.8349)
  line L9 (30.75, 7.8349) -> (30.75, 12.1651)
  line L10 (43.05, 7.8349) -> (46.8, 5.6699)
  line L11 (46.8, 5.6699) -> (50.55, 7.8349)
  line L12 (50.55, 7.8349) -> (50.55, 12.1651)
  line L13 (50.55, 12.1651) -> (46.8, 14.3301)
  line L14 (46.8, 14.3301) -> (43.05, 12.1651)
  line L15 (43.05, 12.1651) -> (43.05, 7.8349)
  dimension "d28" = 3.75
  dimension "d29" = 3.75
extrude "Extrude1''" add sketch "Sketch1 (1)" along normal blind 4.1 contours L4 L5 L6 L7 L8 L9 | L10 L11 L12 L13 L14 L15 bodies 6 in component "Leadscrew Nut Mount V1.1"
component "Leadscrew Nut Mount V1" placed x (1, 0, 0) y (0, 1, 0) z (0, 0, 1) at (0, 0, 0)
component "Leadscrew Nut Mount V1.1" placed x (1, 0, 0) y (0, 1, 0) z (0, 0, 1) at (0, 0, 0)
equation "d1 = d2 / 2 + 7.5 mm"
equation "d3 = d2"
equation "d4 = d2 / 2 + ( 14.8 / 2 ) * 1 mm"
equation "d6 = d5"
equation "d26 = d23 / 2 + 2.5 mm"
equation "d1_1 = ( 5 / 2 ) * 1 mm + 7.5 mm"
equation "d3_1 = d2_1"
equation "d4_1 = ( 5 / 2 ) * 1 mm + ( 14.8 / 2 ) * 1 mm"
equation "d6_1 = d5_1"
equation "d13_1 = 25.4 mm - 2.75 mm - 3 mm - 6 mm"
equation "d26_1 = d23_1 / 2 + 2.5 mm"
equation "d28 = d29"
equation "d29 = ( 7.9 / 2 ) * 1 mm - 0.2 mm"
